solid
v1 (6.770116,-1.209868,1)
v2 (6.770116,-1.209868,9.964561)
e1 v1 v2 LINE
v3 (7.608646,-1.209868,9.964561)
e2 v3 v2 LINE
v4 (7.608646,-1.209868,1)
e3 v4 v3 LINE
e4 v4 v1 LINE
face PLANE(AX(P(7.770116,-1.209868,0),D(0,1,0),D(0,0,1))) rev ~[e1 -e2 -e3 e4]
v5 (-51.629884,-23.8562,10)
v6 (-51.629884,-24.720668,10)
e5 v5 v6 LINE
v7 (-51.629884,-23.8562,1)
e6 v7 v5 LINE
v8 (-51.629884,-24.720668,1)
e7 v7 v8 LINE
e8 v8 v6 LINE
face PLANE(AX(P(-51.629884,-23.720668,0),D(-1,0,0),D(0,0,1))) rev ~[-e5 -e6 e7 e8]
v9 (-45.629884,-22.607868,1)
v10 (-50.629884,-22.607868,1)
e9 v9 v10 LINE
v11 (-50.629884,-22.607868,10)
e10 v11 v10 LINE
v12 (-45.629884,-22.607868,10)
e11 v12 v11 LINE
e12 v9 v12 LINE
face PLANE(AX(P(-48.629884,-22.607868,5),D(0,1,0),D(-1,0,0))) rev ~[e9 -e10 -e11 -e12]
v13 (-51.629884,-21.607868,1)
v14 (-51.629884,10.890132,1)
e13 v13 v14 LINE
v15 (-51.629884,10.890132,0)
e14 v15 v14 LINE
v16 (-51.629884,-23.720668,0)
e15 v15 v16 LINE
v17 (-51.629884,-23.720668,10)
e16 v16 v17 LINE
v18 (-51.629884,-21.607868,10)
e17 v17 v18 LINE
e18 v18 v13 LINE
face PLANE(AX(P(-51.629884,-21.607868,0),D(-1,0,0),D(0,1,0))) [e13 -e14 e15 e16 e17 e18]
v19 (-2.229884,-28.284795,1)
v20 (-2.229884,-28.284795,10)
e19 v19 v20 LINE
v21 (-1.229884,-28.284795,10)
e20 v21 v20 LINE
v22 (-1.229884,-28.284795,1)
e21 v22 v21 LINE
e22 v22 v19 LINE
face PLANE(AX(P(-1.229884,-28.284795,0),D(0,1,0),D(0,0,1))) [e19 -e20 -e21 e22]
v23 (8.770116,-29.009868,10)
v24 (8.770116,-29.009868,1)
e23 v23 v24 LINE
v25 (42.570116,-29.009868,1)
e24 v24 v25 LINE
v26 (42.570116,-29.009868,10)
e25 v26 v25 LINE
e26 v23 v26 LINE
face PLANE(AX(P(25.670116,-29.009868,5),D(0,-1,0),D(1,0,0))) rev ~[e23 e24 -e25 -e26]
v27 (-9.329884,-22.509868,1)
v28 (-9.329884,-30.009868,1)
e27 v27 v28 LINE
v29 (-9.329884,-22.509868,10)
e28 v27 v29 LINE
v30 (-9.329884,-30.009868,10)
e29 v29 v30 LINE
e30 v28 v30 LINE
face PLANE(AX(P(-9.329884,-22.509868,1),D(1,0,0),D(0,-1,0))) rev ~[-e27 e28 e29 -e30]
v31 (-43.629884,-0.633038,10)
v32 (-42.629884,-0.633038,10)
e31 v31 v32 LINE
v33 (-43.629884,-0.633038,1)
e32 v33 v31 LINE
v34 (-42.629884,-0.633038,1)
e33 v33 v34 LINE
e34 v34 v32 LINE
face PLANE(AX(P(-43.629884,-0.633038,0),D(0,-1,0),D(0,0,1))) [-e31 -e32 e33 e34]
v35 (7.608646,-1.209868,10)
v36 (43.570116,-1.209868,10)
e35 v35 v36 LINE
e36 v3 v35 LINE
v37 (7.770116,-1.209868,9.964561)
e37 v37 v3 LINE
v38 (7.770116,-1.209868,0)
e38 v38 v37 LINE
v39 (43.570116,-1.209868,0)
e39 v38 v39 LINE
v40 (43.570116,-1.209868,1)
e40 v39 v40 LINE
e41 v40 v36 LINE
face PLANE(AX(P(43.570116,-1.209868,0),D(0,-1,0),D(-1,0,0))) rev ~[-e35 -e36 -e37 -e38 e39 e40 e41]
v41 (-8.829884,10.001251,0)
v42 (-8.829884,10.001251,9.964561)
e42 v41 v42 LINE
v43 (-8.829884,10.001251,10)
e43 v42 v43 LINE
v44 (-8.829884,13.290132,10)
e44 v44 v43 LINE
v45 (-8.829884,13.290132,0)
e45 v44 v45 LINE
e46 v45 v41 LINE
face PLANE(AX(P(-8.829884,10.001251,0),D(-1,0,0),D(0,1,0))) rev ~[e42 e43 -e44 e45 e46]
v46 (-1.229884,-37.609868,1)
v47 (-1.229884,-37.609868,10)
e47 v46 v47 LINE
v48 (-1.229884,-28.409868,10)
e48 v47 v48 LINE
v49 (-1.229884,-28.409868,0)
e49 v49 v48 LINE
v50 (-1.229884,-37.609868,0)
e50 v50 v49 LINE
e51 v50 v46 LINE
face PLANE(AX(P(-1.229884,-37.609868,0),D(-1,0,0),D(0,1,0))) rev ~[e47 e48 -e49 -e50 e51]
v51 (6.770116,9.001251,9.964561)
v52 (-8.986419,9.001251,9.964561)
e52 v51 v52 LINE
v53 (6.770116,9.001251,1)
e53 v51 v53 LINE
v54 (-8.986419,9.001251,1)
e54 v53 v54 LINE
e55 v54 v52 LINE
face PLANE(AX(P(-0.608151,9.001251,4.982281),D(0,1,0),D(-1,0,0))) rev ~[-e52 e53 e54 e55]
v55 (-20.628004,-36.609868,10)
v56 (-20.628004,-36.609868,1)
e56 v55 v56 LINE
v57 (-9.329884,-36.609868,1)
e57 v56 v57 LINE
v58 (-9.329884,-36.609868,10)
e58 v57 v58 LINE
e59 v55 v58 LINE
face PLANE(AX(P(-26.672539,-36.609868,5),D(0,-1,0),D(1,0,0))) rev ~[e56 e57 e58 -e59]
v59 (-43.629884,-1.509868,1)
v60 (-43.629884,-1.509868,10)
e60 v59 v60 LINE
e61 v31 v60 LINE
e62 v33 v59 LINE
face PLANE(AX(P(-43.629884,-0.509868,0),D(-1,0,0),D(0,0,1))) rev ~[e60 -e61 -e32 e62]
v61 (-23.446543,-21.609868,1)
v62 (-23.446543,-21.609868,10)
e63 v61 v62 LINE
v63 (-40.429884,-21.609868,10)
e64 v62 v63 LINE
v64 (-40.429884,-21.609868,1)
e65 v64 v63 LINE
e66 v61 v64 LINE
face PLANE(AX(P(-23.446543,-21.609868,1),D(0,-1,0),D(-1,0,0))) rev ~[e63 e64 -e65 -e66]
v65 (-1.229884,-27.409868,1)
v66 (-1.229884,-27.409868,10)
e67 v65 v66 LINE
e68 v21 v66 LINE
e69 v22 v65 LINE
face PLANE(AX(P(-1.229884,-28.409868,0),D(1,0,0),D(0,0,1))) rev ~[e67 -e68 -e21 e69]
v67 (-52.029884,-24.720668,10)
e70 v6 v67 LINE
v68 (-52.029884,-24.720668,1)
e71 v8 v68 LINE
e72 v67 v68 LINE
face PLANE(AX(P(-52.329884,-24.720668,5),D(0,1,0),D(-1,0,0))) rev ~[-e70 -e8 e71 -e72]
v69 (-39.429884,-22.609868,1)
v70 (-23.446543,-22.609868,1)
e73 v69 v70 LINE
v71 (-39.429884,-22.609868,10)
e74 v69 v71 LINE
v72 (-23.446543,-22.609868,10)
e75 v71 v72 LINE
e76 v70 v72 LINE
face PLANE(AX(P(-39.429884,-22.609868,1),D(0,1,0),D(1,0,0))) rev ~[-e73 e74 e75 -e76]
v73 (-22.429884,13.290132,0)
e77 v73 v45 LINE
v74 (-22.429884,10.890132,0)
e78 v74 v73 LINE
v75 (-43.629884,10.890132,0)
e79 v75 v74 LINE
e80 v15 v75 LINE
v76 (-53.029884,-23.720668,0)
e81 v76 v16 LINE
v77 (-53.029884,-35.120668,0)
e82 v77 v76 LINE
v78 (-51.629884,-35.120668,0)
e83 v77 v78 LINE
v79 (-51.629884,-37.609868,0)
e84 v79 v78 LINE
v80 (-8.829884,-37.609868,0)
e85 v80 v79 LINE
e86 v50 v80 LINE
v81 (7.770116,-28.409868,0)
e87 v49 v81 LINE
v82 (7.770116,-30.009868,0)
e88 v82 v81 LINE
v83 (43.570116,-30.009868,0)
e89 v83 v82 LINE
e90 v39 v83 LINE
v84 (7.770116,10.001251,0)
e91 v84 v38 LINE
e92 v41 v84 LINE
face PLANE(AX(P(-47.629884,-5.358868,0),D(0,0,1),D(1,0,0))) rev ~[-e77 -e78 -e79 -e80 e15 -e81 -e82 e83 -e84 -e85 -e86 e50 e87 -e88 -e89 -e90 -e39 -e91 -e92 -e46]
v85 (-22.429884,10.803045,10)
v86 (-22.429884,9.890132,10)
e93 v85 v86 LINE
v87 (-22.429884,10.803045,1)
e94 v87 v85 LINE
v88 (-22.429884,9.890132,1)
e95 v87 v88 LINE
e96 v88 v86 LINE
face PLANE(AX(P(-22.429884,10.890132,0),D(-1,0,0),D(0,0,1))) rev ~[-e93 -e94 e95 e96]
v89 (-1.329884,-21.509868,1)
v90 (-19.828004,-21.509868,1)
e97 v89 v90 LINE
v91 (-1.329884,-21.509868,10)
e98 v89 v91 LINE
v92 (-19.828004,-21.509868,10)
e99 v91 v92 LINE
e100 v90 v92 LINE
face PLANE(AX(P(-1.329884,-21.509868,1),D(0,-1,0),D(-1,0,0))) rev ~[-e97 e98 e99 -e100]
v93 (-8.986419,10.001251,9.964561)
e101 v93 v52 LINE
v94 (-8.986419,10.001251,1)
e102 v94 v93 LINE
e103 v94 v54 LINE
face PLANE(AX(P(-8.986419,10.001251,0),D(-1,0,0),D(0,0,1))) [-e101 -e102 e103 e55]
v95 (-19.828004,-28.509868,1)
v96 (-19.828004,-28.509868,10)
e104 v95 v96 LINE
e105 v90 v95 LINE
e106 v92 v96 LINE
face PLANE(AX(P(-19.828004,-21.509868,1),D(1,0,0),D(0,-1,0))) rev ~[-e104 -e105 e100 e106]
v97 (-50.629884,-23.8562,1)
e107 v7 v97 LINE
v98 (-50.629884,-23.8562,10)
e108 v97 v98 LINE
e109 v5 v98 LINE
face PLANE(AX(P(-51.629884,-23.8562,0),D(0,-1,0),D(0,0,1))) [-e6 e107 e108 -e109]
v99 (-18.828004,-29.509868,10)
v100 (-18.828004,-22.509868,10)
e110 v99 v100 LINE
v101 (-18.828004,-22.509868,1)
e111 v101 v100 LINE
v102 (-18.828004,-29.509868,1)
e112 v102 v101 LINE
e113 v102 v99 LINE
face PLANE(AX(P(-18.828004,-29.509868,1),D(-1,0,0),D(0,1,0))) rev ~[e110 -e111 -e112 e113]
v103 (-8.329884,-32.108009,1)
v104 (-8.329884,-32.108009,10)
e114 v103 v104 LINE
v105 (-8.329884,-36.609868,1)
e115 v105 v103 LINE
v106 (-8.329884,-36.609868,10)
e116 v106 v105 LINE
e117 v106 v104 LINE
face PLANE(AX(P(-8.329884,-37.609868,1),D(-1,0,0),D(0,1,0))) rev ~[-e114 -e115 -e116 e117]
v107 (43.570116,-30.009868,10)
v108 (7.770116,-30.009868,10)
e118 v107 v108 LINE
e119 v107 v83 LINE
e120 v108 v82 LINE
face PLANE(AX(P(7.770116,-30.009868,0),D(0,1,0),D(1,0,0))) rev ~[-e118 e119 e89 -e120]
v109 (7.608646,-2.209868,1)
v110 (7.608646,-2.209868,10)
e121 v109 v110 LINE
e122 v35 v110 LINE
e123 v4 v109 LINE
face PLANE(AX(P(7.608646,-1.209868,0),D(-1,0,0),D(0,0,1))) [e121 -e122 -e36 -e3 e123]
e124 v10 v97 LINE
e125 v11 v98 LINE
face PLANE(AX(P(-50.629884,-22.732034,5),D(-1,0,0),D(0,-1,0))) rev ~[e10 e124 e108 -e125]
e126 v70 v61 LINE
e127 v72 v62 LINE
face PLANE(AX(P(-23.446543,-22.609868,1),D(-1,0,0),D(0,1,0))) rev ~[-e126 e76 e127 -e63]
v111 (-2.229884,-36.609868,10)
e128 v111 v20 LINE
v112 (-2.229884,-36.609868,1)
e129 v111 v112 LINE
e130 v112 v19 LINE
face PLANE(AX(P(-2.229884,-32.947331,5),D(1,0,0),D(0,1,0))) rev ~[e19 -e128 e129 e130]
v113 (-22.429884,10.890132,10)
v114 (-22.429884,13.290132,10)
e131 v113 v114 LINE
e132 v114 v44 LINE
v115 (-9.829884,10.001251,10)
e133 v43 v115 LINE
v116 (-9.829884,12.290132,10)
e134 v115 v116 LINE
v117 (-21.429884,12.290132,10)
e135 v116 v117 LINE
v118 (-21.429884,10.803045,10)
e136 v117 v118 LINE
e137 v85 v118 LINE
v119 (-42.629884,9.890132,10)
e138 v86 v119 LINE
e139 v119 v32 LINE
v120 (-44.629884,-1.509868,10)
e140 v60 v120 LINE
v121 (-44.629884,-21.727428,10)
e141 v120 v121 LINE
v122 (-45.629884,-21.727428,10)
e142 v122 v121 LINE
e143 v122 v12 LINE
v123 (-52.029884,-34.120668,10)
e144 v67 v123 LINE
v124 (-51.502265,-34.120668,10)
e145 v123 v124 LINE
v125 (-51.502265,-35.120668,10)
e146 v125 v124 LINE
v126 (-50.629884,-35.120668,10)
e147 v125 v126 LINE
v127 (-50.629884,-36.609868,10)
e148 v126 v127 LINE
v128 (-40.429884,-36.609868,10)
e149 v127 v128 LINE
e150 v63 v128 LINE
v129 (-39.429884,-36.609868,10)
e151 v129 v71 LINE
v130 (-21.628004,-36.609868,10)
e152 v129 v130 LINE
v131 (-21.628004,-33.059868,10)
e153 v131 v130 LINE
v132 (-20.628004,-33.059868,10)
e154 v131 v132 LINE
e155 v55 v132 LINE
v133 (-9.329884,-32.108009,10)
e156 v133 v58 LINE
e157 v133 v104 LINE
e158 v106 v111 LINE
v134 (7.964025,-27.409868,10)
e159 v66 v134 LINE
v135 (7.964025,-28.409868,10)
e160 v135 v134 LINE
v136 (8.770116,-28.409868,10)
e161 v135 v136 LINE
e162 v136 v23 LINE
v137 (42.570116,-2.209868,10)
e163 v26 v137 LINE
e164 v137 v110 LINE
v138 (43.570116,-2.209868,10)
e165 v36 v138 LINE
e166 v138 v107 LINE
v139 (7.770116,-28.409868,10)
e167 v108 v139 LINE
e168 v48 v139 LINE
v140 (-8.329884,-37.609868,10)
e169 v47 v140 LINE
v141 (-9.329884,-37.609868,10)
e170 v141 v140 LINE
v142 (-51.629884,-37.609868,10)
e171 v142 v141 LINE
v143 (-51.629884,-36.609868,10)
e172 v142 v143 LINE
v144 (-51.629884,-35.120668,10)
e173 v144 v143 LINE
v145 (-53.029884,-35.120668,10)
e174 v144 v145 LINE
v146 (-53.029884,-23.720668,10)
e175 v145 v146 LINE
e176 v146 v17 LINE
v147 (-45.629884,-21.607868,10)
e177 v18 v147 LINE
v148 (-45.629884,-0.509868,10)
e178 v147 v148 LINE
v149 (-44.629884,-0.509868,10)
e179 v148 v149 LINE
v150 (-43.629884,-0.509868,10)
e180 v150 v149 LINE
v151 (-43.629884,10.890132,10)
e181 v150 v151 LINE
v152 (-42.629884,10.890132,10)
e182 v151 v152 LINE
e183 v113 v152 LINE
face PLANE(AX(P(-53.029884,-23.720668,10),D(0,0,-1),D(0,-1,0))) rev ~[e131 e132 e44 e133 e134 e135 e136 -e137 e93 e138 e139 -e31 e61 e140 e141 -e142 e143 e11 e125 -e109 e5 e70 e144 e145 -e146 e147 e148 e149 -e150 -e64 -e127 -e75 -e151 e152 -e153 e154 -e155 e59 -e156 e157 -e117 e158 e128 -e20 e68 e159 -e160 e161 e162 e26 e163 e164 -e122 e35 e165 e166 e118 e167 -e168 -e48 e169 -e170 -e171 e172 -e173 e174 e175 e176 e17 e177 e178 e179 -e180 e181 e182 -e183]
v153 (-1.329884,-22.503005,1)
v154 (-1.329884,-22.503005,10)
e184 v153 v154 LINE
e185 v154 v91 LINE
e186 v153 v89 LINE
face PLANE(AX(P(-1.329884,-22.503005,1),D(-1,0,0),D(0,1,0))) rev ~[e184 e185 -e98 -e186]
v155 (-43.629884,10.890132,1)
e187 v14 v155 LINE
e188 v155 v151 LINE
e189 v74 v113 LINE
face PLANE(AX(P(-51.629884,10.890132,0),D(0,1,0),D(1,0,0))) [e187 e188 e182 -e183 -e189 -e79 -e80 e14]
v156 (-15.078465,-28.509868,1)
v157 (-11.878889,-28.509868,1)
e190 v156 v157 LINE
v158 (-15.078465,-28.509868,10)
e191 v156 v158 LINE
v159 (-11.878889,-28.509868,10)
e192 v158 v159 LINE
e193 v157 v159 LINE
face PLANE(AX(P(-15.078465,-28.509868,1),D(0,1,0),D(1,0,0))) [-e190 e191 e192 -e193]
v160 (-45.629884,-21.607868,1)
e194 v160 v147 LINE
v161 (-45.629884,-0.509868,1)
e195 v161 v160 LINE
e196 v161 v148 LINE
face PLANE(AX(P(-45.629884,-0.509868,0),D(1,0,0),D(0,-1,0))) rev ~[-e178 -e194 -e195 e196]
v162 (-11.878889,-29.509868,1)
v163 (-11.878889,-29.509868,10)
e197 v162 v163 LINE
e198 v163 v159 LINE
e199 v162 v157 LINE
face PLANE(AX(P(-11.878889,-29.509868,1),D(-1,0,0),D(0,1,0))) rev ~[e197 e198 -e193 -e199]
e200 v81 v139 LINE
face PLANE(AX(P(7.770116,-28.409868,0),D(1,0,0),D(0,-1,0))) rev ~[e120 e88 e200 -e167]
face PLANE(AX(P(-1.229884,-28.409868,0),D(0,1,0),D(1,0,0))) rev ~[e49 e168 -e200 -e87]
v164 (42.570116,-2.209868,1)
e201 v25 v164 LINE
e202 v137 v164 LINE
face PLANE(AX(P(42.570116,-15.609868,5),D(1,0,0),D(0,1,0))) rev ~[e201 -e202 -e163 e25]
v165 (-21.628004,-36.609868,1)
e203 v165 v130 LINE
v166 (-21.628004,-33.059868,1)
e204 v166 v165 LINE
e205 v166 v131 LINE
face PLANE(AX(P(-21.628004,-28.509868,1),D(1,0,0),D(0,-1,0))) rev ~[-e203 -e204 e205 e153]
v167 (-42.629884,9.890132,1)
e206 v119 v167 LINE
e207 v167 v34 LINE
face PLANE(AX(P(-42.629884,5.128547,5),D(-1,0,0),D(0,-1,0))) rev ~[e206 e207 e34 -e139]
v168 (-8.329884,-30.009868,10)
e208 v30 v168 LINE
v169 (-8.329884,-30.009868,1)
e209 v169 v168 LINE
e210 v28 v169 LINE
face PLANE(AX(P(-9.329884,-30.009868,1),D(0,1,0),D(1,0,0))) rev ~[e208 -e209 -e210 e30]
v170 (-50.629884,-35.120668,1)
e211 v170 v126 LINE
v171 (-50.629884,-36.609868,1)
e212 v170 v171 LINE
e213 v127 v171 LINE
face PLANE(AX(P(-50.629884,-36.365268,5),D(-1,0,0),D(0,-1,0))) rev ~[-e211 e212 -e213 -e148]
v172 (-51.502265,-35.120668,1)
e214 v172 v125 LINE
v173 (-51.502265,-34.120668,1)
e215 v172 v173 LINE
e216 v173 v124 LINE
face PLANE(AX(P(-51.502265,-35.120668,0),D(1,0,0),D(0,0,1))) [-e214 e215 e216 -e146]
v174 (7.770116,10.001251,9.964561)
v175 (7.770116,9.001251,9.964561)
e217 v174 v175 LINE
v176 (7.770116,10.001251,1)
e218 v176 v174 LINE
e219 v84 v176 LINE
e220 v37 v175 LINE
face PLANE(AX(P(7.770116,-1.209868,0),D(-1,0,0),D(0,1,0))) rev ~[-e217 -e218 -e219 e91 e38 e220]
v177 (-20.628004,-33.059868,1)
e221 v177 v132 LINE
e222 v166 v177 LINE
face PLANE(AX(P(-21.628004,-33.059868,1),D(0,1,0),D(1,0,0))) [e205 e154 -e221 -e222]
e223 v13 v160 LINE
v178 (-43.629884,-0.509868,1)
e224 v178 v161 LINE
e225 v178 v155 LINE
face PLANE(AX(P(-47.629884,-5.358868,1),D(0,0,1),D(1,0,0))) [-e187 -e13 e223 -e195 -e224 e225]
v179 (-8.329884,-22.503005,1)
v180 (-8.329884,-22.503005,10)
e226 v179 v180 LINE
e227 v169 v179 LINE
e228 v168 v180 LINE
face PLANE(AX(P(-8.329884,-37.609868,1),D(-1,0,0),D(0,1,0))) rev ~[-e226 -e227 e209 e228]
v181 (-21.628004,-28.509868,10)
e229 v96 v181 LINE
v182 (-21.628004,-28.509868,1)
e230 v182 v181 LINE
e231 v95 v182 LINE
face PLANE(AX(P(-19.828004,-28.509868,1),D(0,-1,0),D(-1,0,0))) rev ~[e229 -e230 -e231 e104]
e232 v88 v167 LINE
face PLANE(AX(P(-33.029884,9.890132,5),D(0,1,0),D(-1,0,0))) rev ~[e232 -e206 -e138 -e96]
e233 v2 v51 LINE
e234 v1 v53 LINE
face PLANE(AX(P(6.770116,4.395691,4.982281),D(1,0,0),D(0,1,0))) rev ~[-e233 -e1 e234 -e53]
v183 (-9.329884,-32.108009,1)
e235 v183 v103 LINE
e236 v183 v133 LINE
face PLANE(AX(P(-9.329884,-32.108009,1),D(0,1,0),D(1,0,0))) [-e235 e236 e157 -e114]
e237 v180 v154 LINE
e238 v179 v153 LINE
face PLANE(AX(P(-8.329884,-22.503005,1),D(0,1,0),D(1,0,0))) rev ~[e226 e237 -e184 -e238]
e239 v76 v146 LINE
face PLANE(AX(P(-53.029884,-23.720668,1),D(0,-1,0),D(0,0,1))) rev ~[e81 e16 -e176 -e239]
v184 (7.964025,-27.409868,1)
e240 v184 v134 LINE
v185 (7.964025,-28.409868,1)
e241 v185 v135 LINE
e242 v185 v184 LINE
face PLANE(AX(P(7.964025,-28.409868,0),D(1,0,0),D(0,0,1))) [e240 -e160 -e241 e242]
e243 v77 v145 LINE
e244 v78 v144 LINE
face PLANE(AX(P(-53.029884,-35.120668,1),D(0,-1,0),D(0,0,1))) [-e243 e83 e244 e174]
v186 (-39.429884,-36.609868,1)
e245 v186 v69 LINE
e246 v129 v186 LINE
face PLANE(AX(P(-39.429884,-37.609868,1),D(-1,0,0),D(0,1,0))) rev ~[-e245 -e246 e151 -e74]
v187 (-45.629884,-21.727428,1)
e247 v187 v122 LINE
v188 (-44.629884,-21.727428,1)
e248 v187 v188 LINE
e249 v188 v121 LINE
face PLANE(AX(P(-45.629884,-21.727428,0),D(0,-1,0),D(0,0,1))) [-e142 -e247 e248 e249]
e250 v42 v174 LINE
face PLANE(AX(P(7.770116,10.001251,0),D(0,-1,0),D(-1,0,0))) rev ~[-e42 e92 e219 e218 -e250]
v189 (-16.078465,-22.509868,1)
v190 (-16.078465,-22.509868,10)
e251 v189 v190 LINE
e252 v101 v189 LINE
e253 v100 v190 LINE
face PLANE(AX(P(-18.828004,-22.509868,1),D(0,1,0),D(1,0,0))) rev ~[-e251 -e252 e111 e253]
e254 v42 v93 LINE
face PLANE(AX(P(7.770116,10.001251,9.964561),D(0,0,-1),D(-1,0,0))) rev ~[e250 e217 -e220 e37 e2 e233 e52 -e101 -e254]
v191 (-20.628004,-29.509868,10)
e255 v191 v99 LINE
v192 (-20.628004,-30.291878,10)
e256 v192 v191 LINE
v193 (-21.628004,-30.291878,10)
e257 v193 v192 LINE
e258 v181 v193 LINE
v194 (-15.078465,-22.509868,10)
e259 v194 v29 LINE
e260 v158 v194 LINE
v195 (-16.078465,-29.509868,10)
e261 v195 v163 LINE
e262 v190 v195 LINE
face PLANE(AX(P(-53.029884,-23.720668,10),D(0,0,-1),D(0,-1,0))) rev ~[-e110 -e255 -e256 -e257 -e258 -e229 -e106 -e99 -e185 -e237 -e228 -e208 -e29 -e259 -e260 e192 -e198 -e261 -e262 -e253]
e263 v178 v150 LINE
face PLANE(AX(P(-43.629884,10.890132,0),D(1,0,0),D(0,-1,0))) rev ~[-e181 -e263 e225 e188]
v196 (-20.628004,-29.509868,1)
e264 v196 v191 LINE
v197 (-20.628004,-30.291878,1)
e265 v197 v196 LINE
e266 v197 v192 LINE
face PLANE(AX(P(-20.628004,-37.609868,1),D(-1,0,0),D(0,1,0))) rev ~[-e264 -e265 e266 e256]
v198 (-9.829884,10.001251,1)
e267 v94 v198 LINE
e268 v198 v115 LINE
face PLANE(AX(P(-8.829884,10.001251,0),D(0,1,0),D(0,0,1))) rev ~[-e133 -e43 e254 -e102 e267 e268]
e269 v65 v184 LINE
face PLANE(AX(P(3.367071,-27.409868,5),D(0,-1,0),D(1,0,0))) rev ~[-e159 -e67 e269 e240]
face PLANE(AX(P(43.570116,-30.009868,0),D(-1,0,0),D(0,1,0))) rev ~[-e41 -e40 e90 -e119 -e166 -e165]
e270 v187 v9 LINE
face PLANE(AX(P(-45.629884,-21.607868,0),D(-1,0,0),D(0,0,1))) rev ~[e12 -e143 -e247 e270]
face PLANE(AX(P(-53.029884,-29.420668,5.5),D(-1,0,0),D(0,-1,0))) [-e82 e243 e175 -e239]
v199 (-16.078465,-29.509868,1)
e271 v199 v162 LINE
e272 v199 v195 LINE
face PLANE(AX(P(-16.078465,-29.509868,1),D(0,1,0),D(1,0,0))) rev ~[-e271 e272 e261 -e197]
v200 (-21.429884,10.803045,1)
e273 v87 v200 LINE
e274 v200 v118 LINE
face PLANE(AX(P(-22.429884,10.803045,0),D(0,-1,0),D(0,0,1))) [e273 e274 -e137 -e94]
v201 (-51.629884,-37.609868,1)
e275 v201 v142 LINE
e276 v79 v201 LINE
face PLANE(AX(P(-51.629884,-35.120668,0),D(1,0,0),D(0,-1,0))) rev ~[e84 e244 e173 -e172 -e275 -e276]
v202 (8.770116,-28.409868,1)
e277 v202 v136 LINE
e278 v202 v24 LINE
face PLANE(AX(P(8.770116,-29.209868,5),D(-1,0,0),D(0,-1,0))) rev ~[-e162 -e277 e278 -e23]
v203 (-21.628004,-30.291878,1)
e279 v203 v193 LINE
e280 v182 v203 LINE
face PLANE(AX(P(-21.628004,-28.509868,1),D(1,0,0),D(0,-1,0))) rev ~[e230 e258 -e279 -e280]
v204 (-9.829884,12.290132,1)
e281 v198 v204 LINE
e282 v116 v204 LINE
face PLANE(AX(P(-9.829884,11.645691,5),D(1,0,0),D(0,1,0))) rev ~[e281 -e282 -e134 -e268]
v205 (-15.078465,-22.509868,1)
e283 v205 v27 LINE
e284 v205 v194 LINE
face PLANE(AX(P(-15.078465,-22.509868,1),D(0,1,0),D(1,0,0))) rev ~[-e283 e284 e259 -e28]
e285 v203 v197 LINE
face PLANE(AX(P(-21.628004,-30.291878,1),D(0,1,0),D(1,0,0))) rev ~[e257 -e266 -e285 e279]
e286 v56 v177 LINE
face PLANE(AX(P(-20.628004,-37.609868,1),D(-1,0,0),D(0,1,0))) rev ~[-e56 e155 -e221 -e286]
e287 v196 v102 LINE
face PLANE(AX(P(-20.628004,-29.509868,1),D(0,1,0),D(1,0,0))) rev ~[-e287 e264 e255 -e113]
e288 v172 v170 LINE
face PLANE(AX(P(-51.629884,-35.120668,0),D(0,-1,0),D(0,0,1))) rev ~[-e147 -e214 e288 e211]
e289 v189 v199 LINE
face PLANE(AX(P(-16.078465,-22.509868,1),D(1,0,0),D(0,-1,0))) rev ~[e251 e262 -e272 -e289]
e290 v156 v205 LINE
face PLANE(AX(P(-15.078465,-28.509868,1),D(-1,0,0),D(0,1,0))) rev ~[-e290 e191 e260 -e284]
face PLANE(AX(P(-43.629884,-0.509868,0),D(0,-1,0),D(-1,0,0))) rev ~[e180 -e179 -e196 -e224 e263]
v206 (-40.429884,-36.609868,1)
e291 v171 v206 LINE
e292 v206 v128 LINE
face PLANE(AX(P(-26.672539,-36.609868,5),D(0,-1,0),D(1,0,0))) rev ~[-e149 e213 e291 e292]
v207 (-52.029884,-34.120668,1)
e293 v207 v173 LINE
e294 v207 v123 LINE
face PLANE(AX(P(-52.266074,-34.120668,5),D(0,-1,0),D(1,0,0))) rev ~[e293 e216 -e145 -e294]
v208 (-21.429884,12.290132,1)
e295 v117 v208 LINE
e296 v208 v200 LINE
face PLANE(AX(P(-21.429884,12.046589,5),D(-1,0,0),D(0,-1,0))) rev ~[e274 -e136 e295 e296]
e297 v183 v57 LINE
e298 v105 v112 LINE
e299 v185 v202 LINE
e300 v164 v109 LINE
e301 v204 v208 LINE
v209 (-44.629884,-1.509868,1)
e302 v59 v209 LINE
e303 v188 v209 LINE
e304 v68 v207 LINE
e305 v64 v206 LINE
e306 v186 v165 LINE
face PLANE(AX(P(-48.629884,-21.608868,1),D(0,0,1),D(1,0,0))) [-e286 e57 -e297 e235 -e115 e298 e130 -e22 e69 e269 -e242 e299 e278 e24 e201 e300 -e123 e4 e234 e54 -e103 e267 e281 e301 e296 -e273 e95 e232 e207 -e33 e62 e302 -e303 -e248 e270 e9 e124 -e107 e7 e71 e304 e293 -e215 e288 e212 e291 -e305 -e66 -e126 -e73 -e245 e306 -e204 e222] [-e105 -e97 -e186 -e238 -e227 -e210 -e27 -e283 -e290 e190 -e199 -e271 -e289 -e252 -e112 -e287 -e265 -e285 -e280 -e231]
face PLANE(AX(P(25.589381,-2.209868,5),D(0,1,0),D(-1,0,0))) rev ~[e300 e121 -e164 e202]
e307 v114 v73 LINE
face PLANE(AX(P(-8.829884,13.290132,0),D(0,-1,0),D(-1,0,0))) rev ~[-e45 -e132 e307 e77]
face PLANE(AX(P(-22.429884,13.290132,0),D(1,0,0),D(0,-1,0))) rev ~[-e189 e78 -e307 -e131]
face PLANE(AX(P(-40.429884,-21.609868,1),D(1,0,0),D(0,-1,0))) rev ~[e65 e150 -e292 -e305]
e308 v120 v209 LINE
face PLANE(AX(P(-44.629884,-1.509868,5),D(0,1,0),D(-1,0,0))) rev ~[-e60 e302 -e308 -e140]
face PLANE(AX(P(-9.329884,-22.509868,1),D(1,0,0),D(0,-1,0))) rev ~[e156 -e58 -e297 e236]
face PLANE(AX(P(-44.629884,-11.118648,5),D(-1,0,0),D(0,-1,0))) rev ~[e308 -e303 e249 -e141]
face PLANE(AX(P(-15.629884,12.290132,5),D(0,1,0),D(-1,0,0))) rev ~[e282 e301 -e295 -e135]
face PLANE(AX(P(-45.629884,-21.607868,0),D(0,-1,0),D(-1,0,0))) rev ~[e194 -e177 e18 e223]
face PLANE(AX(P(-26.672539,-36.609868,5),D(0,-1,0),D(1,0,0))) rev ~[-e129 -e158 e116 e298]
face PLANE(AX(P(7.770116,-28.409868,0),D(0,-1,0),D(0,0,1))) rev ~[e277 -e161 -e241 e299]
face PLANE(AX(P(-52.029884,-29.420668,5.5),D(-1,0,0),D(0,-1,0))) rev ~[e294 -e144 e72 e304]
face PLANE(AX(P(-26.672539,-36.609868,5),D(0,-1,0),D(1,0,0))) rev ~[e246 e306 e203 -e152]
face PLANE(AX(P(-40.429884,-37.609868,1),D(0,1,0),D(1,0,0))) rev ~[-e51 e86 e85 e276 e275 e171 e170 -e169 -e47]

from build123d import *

# Parameters (mm, degrees)
F0_W      = 6
F0_H      = 0.002
F0_W_2    = 1.4
F0_H_2    = 11.4
F0_W_3    = 13.6
F0_H_3    = 0.08
F0_H_4    = 16.002
F0_W_4    = 8.8
F0_H_5    = 21.098
F0_W_5    = 7.6
F0_H_6    = 7.8852218396
F1_DEPTH  = 1
F2_W      = 11.4
F2_H      = 9
F3_DEPTH  = 1
F4_W      = 1.4
F4_H      = 10
F5_DEPTH  = 1
F6_W      = 2.2483316878
F6_H      = 10
F7_DEPTH  = 1
F8_W      = 6
F8_H      = 10
F9_DEPTH  = 1
F10_W     = 21.2175605533
F10_H     = 10
F11_DEPTH = 1
F12_W     = 2
F12_H     = 10
F13_DEPTH = 1
F14_W     = 11.5231698511
F14_H     = 10
F15_DEPTH = 1
F16_W     = 21.2
F16_H     = 10
F17_DEPTH = 1
F18_W     = 2.4870870446
F18_H     = 10
F19_DEPTH = 1
F20_W     = 13.6
F20_H     = 10
F21_DEPTH = 1
F22_W     = 3.2888815676
F22_H     = 10
F23_DEPTH = 1
F24_W     = 16.7565354139
F24_H     = 9.9645610899
F25_DEPTH = 1
F26_W     = 11.2111184324
F26_H     = 9.9645610899
F27_DEPTH = 1
F28_W     = 35.9614706893
F28_H     = 10
F29_DEPTH = 1
F30_W     = 28.8
F30_H     = 10
F31_DEPTH = 1
F32_W     = 35.8
F32_H     = 10
F33_DEPTH = 1
F34_W     = 1.6
F34_H     = 10
F35_DEPTH = 1
F36_W     = 9.1939088942
F36_H     = 10
F37_DEPTH = 1
F38_W     = 9.3250730319
F38_H     = 10
F39_DEPTH = 1
F40_W     = 49.9146888159
F40_H     = 10
F41_DEPTH = 1
F42_W     = 50.4
F42_H     = 10
F43_DEPTH = 25.4
F44_W     = 2.4892
F44_H     = 10
F45_DEPTH = 1
F46_W     = 1.5276186168
F46_H     = 10
F47_DEPTH = 1
F48_W     = 8
F48_H     = 32.498
F49_DEPTH = 1
F50_W     = 1
F50_H     = 15
F50_H_2   = 1
F50_W_2   = 15.9833405107
F50_H_3   = 4.55
F50_H_4   = 2.7679902027
F50_H_5   = 0.7820097973
F50_H_6   = 6
F50_W_3   = 2.749538143
F50_H_7   = 7.5
F50_W_4   = 3.1995763704
F50_H_8   = 2.0981409718
F50_H_9   = 5.5018590282
F51_DEPTH = 9
F52_DEPTH = 9
F53_DEPTH = 9


with BuildPart() as f1:
    # F0 (on Top) → F1 (new body)
    with BuildSketch(Plane.XY):
        with Locations((-48.6298836529, -21.6088678897)):
            Rectangle(F0_W, F0_H)
        Polygon((-45.6298836529, -21.6098678897), (-51.6298836529, -21.6098678897), (-51.6298836529, -23.7206678897), (-51.6298836529, -35.1206678897), (-51.6298836529, -37.6098678897), (-40.4298836529, -37.6098678897), (-40.4298836529, -21.6098678897), align=None)
        Polygon((-45.6298836529, -21.6078678897), (-45.6298836529, -21.6098678897), (-40.4298836529, -21.6098678897), (-31.2298836529, -21.6098678897), (-31.2298836529, -21.6078678897), align=None)
        with Locations((-52.3298836529, -29.4206678897)):
            Rectangle(F0_W_2, F0_H_2)
        Polygon((-31.2298836529, -21.6098678897), (-40.4298836529, -21.6098678897), (-40.4298836529, -37.6098678897), (-22.4298836529, -37.6098678897), (-22.4298836529, -21.6078678897), (-31.2298836529, -21.6078678897), align=None)
        Polygon((-45.6298836529, -0.5098678897), (-45.6298836529, -21.6078678897), (-31.2298836529, -21.6078678897), (-31.2298836529, -0.5098678897), (-43.6298836529, -0.5098678897), align=None)
        with Locations((-15.6298836529, -37.6498678897)):
            Rectangle(F0_W_3, F0_H_3)
        with Locations((-15.6298836529, -29.6088678897)):
            Rectangle(F0_W_3, F0_H_4)
        Polygon((-43.6298836529, 10.8901321103), (-43.6298836529, -0.5098678897), (-31.2298836529, -0.5098678897), (-22.4298836529, -0.5098678897), (-22.4298836529, 10.8901321103), align=None)
        Polygon((-22.4298836529, -0.5098678897), (-22.4298836529, -21.6078678897), (-8.8298836529, -21.6078678897), (-8.8298836529, -13.7226460502), (-8.8298836529, 10.0012505427), (-8.8298836529, 13.2901321103), (-22.4298836529, 13.2901321103), (-22.4298836529, 10.8901321103), align=None)
        Polygon((-8.8298836529, -21.6078678897), (-8.8298836529, -37.6098678897), (-1.2298836529, -37.6098678897), (-1.2298836529, -28.4098678897), (-1.2298836529, -21.6078678897), align=None)
        Polygon((-8.8298836529, 10.0012505427), (-8.8298836529, -13.7226460502), (-1.2298836529, -13.7226460502), (7.7701163471, -13.7226460502), (7.7701163471, -1.2098678897), (7.7701163471, 10.0012505427), align=None)
        Polygon((-1.2298836529, -13.7226460502), (-1.2298836529, -21.6078678897), (-1.2298836529, -28.4098678897), (7.7701163471, -28.4098678897), (7.7701163471, -13.7226460502), align=None)
        Polygon((7.7701163471, -13.7226460502), (7.7701163471, -28.4098678897), (7.7701163471, -30.0098678897), (43.5701163471, -30.0098678897), (43.5701163471, -1.2098678897), (7.7701163471, -1.2098678897), align=None)
        with Locations((-26.8298836529, -11.0588678897)):
            Rectangle(F0_W_4, F0_H_5)
        with Locations((-5.0298836529, -17.6652569699)):
            Rectangle(F0_W_5, F0_H_6)
    extrude(amount=F1_DEPTH)

    # F2 (on face) → F3 (join)
    with BuildSketch(Plane(origin=(-53.0298836529, 0, 0), x_dir=(0, -1, 0), z_dir=(-1, 0, 0))):
        with Locations((29.4206678897, 5.5)):
            Rectangle(F2_W, F2_H)
    extrude(amount=-F3_DEPTH)

    # F4 (on face) → F5 (join)
    with BuildSketch(Plane(origin=(0, -23.7206678897, 0), x_dir=(-1, 0, 0), z_dir=(0, 1, 0))):
        with Locations((52.3298836529, 5)):
            Rectangle(F4_W, F4_H)
    extrude(amount=-F5_DEPTH)

    # F6 (on face) → F7 (join)
    with BuildSketch(Plane(origin=(-51.6298836529, 0, 0), x_dir=(0, -1, 0), z_dir=(-1, 0, 0))):
        with Locations((22.7320337336, 5)):
            Rectangle(F6_W, F6_H)
    extrude(amount=-F7_DEPTH)

    # F8 (on face) → F9 (join)
    with BuildSketch(Plane(origin=(0, -21.6078678897, 0), x_dir=(-1, 0, 0), z_dir=(0, 1, 0))):
        with Locations((48.6298836529, 5)):
            Rectangle(F8_W, F8_H)
    extrude(amount=-F9_DEPTH)

    # F10 (on face) → F11 (join)
    with BuildSketch(Plane(origin=(-45.6298836529, 0, 0), x_dir=(0, -1, 0), z_dir=(-1, 0, 0))):
        with Locations((11.1186481663, 5)):
            Rectangle(F10_W, F10_H)
    extrude(amount=-F11_DEPTH)

    # F12 (on face) → F13 (join)
    with BuildSketch(Plane(origin=(0, -0.5098678897, 0), x_dir=(-1, 0, 0), z_dir=(0, 1, 0))):
        with Locations((44.6298836529, 5)):
            Rectangle(F12_W, F12_H)
    extrude(amount=-F13_DEPTH)

    # F14 (on face) → F15 (join)
    with BuildSketch(Plane(origin=(-43.6298836529, 0, 0), x_dir=(0, -1, 0), z_dir=(-1, 0, 0))):
        with Locations((-5.1285471847, 5)):
            Rectangle(F14_W, F14_H)
    extrude(amount=-F15_DEPTH)

    # F16 (on face) → F17 (join)
    with BuildSketch(Plane(origin=(0, 10.8901321103, 0), x_dir=(-1, 0, 0), z_dir=(0, 1, 0))):
        with Locations((33.0298836529, 5)):
            Rectangle(F16_W, F16_H)
    extrude(amount=-F17_DEPTH)

    # F18 (on face) → F19 (join)
    with BuildSketch(Plane(origin=(-22.4298836529, 0, 0), x_dir=(0, -1, 0), z_dir=(-1, 0, 0))):
        with Locations((-12.046588588, 5)):
            Rectangle(F18_W, F18_H)
    extrude(amount=-F19_DEPTH)

    # F20 (on face) → F21 (join)
    with BuildSketch(Plane(origin=(0, 13.2901321103, 0), x_dir=(-1, 0, 0), z_dir=(0, 1, 0))):
        with Locations((15.6298836529, 5)):
            Rectangle(F20_W, F20_H)
    extrude(amount=-F21_DEPTH)

    # F22 (on face) → F23 (join)
    with BuildSketch(Plane.YZ.offset(-8.8298836529)):
        with Locations((11.6456913265, 5)):
            Rectangle(F22_W, F22_H)
    extrude(amount=-F23_DEPTH)

    # F24 (on face) → F25 (join)
    with BuildSketch(Plane(origin=(0, 10.0012505427, 0), x_dir=(-1, 0, 0), z_dir=(0, 1, 0))):
        with Locations((0.6081513599, 4.9822805449)):
            Rectangle(F24_W, F24_H)
    extrude(amount=-F25_DEPTH)

    # F26 (on face) → F27 (join)
    with BuildSketch(Plane.YZ.offset(7.7701163471)):
        with Locations((4.3956913265, 4.9822805449)):
            Rectangle(F26_W, F26_H)
    extrude(amount=-F27_DEPTH)

    # F28 (on face) → F29 (join)
    with BuildSketch(Plane(origin=(0, -1.2098678897, 0), x_dir=(-1, 0, 0), z_dir=(0, 1, 0))):
        with Locations((-25.5893810024, 5)):
            Rectangle(F28_W, F28_H)
    extrude(amount=-F29_DEPTH)

    # F30 (on face) → F31 (join)
    with BuildSketch(Plane.YZ.offset(43.5701163471)):
        with Locations((-15.6098678897, 5)):
            Rectangle(F30_W, F30_H)
    extrude(amount=-F31_DEPTH)

    # F32 (on face) → F33 (join)
    with BuildSketch(Plane.XZ.offset(30.0098678897)):
        with Locations((25.6701163471, 5)):
            Rectangle(F32_W, F32_H)
    extrude(amount=-F33_DEPTH)

    # F34 (on face) → F35 (join)
    with BuildSketch(Plane(origin=(7.7701163471, 0, 0), x_dir=(0, -1, 0), z_dir=(-1, 0, 0))):
        with Locations((29.2098678897, 5)):
            Rectangle(F34_W, F34_H)
    extrude(amount=-F35_DEPTH)

    # F36 (on face) → F37 (join)
    with BuildSketch(Plane.XZ.offset(28.4098678897)):
        with Locations((3.3670707942, 5)):
            Rectangle(F36_W, F36_H)
    extrude(amount=-F37_DEPTH)

    # F38 (on face) → F39 (join)
    with BuildSketch(Plane.YZ.offset(-1.2298836529)):
        with Locations((-32.9473313738, 5)):
            Rectangle(F38_W, F38_H)
    extrude(amount=-F39_DEPTH)

    # F40 (on face) → F41 (join)
    with BuildSketch(Plane.XZ.offset(37.6098678897)):
        with Locations((-26.672539245, 5)):
            Rectangle(F40_W, F40_H)
    extrude(amount=-F41_DEPTH)

    # F42 (on face) → F43 (cut)
    with BuildSketch(Plane.XZ.offset(37.6098678897)):
        with Locations((-26.4298836529, 5)):
            Rectangle(F42_W, F42_H)
    extrude(amount=F43_DEPTH, mode=Mode.SUBTRACT)

    # F44 (on face) → F45 (join)
    with BuildSketch(Plane(origin=(-51.6298836529, 0, 0), x_dir=(0, -1, 0), z_dir=(-1, 0, 0))):
        with Locations((36.3652678897, 5)):
            Rectangle(F44_W, F44_H)
    extrude(amount=-F45_DEPTH)

    # F46 (on face) → F47 (join)
    with BuildSketch(Plane.XZ.offset(35.1206678897)):
        with Locations((-52.2660743445, 5)):
            Rectangle(F46_W, F46_H)
    extrude(amount=-F47_DEPTH)

    # F48 (on Top) → F49 (join)
    with BuildSketch(Plane.XY):
        with Locations((-47.6298836529, -5.3588678897)):
            Rectangle(F48_W, F48_H)
    extrude(amount=F49_DEPTH)

    # F50 (on face) → F51 (join)
    with BuildSketch(Plane.XY.offset(1)):
        with Locations((-39.9298836529, -30.1098678897)):
            Rectangle(F50_W, F50_H)
        with Locations((-39.9298836529, -22.1098678897)):
            Rectangle(F50_W, F50_H_2)
        with Locations((-31.4382133976, -22.1098678897)):
            Rectangle(F50_W_2, F50_H_2)
        with Locations((-21.1280035675, -35.3348678897)):
            Rectangle(F50_W, F50_H_3)
        with Locations((-21.1280035675, -31.6758727883)):
            Rectangle(F50_W, F50_H_4)
        with Locations((-21.1280035675, -29.9008727883)):
            Rectangle(F50_W, F50_H_5)
        with Locations((-21.1280035675, -29.0098678897)):
            Rectangle(F50_W, F50_H_2)
        Polygon((-20.6280035675, -28.5098678897), (-20.6280035675, -29.5098678897), (-18.8280035675, -29.5098678897), (-18.8280035675, -28.5098678897), (-19.8280035675, -28.5098678897), align=None)
        with Locations((-19.3280035675, -25.5098678897)):
            Rectangle(F50_W, F50_H_6)
        with Locations((-19.3280035675, -22.0098678897)):
            Rectangle(F50_W, F50_H_2)
        with Locations((-17.4532344959, -22.0098678897)):
            Rectangle(F50_W_3, F50_H_2)
        with Locations((-15.5784654244, -22.0098678897)):
            Rectangle(F50_W, F50_H_2)
        with Locations((-15.5784654244, -25.5098678897)):
            Rectangle(F50_W, F50_H_6)
        Polygon((-15.0784654244, -21.5098678897), (-15.0784654244, -22.5098678897), (-9.3298836529, -22.5098678897), (-9.3298836529, -22.4098678897), (-8.3298836529, -22.4098678897), (-8.3298836529, -21.5098678897), align=None)
        with Locations((-15.5784654244, -29.0098678897)):
            Rectangle(F50_W, F50_H_2)
        with Locations((-8.8298836529, -26.2598678897)):
            Rectangle(F50_W, F50_H_7)
        Polygon((-9.3298836529, -22.4098678897), (-9.3298836529, -22.5098678897), (-8.3298836529, -22.5098678897), (-8.3298836529, -22.5030053407), (-8.3298836529, -22.4098678897), align=None)
        with Locations((-13.4786772393, -29.0098678897)):
            Rectangle(F50_W_4, F50_H_2)
        Polygon((-1.3298836529, -21.5098678897), (-8.3298836529, -21.5098678897), (-8.3298836529, -22.4098678897), (-8.3298836529, -22.5030053407), (-1.3298836529, -22.5030053407), align=None)
        with Locations((-8.8298836529, -31.0589383756)):
            Rectangle(F50_W, F50_H_8)
        with Locations((-8.8298836529, -34.8589383756)):
            Rectangle(F50_W, F50_H_9)
    extrude(amount=F51_DEPTH)

    # F50 (on face) → F52 (cut)
    with BuildSketch(Plane.XY.offset(1)):
        with Locations((-21.1280035675, -31.6758727883)):
            Rectangle(F50_W, F50_H_4)
    extrude(amount=F52_DEPTH, mode=Mode.SUBTRACT)

    # F50 (on face) → F53 (cut)
    with BuildSketch(Plane.XY.offset(1)):
        with Locations((-8.8298836529, -31.0589383756)):
            Rectangle(F50_W, F50_H_8)
    extrude(amount=F53_DEPTH, mode=Mode.SUBTRACT)


solid = f1.part
